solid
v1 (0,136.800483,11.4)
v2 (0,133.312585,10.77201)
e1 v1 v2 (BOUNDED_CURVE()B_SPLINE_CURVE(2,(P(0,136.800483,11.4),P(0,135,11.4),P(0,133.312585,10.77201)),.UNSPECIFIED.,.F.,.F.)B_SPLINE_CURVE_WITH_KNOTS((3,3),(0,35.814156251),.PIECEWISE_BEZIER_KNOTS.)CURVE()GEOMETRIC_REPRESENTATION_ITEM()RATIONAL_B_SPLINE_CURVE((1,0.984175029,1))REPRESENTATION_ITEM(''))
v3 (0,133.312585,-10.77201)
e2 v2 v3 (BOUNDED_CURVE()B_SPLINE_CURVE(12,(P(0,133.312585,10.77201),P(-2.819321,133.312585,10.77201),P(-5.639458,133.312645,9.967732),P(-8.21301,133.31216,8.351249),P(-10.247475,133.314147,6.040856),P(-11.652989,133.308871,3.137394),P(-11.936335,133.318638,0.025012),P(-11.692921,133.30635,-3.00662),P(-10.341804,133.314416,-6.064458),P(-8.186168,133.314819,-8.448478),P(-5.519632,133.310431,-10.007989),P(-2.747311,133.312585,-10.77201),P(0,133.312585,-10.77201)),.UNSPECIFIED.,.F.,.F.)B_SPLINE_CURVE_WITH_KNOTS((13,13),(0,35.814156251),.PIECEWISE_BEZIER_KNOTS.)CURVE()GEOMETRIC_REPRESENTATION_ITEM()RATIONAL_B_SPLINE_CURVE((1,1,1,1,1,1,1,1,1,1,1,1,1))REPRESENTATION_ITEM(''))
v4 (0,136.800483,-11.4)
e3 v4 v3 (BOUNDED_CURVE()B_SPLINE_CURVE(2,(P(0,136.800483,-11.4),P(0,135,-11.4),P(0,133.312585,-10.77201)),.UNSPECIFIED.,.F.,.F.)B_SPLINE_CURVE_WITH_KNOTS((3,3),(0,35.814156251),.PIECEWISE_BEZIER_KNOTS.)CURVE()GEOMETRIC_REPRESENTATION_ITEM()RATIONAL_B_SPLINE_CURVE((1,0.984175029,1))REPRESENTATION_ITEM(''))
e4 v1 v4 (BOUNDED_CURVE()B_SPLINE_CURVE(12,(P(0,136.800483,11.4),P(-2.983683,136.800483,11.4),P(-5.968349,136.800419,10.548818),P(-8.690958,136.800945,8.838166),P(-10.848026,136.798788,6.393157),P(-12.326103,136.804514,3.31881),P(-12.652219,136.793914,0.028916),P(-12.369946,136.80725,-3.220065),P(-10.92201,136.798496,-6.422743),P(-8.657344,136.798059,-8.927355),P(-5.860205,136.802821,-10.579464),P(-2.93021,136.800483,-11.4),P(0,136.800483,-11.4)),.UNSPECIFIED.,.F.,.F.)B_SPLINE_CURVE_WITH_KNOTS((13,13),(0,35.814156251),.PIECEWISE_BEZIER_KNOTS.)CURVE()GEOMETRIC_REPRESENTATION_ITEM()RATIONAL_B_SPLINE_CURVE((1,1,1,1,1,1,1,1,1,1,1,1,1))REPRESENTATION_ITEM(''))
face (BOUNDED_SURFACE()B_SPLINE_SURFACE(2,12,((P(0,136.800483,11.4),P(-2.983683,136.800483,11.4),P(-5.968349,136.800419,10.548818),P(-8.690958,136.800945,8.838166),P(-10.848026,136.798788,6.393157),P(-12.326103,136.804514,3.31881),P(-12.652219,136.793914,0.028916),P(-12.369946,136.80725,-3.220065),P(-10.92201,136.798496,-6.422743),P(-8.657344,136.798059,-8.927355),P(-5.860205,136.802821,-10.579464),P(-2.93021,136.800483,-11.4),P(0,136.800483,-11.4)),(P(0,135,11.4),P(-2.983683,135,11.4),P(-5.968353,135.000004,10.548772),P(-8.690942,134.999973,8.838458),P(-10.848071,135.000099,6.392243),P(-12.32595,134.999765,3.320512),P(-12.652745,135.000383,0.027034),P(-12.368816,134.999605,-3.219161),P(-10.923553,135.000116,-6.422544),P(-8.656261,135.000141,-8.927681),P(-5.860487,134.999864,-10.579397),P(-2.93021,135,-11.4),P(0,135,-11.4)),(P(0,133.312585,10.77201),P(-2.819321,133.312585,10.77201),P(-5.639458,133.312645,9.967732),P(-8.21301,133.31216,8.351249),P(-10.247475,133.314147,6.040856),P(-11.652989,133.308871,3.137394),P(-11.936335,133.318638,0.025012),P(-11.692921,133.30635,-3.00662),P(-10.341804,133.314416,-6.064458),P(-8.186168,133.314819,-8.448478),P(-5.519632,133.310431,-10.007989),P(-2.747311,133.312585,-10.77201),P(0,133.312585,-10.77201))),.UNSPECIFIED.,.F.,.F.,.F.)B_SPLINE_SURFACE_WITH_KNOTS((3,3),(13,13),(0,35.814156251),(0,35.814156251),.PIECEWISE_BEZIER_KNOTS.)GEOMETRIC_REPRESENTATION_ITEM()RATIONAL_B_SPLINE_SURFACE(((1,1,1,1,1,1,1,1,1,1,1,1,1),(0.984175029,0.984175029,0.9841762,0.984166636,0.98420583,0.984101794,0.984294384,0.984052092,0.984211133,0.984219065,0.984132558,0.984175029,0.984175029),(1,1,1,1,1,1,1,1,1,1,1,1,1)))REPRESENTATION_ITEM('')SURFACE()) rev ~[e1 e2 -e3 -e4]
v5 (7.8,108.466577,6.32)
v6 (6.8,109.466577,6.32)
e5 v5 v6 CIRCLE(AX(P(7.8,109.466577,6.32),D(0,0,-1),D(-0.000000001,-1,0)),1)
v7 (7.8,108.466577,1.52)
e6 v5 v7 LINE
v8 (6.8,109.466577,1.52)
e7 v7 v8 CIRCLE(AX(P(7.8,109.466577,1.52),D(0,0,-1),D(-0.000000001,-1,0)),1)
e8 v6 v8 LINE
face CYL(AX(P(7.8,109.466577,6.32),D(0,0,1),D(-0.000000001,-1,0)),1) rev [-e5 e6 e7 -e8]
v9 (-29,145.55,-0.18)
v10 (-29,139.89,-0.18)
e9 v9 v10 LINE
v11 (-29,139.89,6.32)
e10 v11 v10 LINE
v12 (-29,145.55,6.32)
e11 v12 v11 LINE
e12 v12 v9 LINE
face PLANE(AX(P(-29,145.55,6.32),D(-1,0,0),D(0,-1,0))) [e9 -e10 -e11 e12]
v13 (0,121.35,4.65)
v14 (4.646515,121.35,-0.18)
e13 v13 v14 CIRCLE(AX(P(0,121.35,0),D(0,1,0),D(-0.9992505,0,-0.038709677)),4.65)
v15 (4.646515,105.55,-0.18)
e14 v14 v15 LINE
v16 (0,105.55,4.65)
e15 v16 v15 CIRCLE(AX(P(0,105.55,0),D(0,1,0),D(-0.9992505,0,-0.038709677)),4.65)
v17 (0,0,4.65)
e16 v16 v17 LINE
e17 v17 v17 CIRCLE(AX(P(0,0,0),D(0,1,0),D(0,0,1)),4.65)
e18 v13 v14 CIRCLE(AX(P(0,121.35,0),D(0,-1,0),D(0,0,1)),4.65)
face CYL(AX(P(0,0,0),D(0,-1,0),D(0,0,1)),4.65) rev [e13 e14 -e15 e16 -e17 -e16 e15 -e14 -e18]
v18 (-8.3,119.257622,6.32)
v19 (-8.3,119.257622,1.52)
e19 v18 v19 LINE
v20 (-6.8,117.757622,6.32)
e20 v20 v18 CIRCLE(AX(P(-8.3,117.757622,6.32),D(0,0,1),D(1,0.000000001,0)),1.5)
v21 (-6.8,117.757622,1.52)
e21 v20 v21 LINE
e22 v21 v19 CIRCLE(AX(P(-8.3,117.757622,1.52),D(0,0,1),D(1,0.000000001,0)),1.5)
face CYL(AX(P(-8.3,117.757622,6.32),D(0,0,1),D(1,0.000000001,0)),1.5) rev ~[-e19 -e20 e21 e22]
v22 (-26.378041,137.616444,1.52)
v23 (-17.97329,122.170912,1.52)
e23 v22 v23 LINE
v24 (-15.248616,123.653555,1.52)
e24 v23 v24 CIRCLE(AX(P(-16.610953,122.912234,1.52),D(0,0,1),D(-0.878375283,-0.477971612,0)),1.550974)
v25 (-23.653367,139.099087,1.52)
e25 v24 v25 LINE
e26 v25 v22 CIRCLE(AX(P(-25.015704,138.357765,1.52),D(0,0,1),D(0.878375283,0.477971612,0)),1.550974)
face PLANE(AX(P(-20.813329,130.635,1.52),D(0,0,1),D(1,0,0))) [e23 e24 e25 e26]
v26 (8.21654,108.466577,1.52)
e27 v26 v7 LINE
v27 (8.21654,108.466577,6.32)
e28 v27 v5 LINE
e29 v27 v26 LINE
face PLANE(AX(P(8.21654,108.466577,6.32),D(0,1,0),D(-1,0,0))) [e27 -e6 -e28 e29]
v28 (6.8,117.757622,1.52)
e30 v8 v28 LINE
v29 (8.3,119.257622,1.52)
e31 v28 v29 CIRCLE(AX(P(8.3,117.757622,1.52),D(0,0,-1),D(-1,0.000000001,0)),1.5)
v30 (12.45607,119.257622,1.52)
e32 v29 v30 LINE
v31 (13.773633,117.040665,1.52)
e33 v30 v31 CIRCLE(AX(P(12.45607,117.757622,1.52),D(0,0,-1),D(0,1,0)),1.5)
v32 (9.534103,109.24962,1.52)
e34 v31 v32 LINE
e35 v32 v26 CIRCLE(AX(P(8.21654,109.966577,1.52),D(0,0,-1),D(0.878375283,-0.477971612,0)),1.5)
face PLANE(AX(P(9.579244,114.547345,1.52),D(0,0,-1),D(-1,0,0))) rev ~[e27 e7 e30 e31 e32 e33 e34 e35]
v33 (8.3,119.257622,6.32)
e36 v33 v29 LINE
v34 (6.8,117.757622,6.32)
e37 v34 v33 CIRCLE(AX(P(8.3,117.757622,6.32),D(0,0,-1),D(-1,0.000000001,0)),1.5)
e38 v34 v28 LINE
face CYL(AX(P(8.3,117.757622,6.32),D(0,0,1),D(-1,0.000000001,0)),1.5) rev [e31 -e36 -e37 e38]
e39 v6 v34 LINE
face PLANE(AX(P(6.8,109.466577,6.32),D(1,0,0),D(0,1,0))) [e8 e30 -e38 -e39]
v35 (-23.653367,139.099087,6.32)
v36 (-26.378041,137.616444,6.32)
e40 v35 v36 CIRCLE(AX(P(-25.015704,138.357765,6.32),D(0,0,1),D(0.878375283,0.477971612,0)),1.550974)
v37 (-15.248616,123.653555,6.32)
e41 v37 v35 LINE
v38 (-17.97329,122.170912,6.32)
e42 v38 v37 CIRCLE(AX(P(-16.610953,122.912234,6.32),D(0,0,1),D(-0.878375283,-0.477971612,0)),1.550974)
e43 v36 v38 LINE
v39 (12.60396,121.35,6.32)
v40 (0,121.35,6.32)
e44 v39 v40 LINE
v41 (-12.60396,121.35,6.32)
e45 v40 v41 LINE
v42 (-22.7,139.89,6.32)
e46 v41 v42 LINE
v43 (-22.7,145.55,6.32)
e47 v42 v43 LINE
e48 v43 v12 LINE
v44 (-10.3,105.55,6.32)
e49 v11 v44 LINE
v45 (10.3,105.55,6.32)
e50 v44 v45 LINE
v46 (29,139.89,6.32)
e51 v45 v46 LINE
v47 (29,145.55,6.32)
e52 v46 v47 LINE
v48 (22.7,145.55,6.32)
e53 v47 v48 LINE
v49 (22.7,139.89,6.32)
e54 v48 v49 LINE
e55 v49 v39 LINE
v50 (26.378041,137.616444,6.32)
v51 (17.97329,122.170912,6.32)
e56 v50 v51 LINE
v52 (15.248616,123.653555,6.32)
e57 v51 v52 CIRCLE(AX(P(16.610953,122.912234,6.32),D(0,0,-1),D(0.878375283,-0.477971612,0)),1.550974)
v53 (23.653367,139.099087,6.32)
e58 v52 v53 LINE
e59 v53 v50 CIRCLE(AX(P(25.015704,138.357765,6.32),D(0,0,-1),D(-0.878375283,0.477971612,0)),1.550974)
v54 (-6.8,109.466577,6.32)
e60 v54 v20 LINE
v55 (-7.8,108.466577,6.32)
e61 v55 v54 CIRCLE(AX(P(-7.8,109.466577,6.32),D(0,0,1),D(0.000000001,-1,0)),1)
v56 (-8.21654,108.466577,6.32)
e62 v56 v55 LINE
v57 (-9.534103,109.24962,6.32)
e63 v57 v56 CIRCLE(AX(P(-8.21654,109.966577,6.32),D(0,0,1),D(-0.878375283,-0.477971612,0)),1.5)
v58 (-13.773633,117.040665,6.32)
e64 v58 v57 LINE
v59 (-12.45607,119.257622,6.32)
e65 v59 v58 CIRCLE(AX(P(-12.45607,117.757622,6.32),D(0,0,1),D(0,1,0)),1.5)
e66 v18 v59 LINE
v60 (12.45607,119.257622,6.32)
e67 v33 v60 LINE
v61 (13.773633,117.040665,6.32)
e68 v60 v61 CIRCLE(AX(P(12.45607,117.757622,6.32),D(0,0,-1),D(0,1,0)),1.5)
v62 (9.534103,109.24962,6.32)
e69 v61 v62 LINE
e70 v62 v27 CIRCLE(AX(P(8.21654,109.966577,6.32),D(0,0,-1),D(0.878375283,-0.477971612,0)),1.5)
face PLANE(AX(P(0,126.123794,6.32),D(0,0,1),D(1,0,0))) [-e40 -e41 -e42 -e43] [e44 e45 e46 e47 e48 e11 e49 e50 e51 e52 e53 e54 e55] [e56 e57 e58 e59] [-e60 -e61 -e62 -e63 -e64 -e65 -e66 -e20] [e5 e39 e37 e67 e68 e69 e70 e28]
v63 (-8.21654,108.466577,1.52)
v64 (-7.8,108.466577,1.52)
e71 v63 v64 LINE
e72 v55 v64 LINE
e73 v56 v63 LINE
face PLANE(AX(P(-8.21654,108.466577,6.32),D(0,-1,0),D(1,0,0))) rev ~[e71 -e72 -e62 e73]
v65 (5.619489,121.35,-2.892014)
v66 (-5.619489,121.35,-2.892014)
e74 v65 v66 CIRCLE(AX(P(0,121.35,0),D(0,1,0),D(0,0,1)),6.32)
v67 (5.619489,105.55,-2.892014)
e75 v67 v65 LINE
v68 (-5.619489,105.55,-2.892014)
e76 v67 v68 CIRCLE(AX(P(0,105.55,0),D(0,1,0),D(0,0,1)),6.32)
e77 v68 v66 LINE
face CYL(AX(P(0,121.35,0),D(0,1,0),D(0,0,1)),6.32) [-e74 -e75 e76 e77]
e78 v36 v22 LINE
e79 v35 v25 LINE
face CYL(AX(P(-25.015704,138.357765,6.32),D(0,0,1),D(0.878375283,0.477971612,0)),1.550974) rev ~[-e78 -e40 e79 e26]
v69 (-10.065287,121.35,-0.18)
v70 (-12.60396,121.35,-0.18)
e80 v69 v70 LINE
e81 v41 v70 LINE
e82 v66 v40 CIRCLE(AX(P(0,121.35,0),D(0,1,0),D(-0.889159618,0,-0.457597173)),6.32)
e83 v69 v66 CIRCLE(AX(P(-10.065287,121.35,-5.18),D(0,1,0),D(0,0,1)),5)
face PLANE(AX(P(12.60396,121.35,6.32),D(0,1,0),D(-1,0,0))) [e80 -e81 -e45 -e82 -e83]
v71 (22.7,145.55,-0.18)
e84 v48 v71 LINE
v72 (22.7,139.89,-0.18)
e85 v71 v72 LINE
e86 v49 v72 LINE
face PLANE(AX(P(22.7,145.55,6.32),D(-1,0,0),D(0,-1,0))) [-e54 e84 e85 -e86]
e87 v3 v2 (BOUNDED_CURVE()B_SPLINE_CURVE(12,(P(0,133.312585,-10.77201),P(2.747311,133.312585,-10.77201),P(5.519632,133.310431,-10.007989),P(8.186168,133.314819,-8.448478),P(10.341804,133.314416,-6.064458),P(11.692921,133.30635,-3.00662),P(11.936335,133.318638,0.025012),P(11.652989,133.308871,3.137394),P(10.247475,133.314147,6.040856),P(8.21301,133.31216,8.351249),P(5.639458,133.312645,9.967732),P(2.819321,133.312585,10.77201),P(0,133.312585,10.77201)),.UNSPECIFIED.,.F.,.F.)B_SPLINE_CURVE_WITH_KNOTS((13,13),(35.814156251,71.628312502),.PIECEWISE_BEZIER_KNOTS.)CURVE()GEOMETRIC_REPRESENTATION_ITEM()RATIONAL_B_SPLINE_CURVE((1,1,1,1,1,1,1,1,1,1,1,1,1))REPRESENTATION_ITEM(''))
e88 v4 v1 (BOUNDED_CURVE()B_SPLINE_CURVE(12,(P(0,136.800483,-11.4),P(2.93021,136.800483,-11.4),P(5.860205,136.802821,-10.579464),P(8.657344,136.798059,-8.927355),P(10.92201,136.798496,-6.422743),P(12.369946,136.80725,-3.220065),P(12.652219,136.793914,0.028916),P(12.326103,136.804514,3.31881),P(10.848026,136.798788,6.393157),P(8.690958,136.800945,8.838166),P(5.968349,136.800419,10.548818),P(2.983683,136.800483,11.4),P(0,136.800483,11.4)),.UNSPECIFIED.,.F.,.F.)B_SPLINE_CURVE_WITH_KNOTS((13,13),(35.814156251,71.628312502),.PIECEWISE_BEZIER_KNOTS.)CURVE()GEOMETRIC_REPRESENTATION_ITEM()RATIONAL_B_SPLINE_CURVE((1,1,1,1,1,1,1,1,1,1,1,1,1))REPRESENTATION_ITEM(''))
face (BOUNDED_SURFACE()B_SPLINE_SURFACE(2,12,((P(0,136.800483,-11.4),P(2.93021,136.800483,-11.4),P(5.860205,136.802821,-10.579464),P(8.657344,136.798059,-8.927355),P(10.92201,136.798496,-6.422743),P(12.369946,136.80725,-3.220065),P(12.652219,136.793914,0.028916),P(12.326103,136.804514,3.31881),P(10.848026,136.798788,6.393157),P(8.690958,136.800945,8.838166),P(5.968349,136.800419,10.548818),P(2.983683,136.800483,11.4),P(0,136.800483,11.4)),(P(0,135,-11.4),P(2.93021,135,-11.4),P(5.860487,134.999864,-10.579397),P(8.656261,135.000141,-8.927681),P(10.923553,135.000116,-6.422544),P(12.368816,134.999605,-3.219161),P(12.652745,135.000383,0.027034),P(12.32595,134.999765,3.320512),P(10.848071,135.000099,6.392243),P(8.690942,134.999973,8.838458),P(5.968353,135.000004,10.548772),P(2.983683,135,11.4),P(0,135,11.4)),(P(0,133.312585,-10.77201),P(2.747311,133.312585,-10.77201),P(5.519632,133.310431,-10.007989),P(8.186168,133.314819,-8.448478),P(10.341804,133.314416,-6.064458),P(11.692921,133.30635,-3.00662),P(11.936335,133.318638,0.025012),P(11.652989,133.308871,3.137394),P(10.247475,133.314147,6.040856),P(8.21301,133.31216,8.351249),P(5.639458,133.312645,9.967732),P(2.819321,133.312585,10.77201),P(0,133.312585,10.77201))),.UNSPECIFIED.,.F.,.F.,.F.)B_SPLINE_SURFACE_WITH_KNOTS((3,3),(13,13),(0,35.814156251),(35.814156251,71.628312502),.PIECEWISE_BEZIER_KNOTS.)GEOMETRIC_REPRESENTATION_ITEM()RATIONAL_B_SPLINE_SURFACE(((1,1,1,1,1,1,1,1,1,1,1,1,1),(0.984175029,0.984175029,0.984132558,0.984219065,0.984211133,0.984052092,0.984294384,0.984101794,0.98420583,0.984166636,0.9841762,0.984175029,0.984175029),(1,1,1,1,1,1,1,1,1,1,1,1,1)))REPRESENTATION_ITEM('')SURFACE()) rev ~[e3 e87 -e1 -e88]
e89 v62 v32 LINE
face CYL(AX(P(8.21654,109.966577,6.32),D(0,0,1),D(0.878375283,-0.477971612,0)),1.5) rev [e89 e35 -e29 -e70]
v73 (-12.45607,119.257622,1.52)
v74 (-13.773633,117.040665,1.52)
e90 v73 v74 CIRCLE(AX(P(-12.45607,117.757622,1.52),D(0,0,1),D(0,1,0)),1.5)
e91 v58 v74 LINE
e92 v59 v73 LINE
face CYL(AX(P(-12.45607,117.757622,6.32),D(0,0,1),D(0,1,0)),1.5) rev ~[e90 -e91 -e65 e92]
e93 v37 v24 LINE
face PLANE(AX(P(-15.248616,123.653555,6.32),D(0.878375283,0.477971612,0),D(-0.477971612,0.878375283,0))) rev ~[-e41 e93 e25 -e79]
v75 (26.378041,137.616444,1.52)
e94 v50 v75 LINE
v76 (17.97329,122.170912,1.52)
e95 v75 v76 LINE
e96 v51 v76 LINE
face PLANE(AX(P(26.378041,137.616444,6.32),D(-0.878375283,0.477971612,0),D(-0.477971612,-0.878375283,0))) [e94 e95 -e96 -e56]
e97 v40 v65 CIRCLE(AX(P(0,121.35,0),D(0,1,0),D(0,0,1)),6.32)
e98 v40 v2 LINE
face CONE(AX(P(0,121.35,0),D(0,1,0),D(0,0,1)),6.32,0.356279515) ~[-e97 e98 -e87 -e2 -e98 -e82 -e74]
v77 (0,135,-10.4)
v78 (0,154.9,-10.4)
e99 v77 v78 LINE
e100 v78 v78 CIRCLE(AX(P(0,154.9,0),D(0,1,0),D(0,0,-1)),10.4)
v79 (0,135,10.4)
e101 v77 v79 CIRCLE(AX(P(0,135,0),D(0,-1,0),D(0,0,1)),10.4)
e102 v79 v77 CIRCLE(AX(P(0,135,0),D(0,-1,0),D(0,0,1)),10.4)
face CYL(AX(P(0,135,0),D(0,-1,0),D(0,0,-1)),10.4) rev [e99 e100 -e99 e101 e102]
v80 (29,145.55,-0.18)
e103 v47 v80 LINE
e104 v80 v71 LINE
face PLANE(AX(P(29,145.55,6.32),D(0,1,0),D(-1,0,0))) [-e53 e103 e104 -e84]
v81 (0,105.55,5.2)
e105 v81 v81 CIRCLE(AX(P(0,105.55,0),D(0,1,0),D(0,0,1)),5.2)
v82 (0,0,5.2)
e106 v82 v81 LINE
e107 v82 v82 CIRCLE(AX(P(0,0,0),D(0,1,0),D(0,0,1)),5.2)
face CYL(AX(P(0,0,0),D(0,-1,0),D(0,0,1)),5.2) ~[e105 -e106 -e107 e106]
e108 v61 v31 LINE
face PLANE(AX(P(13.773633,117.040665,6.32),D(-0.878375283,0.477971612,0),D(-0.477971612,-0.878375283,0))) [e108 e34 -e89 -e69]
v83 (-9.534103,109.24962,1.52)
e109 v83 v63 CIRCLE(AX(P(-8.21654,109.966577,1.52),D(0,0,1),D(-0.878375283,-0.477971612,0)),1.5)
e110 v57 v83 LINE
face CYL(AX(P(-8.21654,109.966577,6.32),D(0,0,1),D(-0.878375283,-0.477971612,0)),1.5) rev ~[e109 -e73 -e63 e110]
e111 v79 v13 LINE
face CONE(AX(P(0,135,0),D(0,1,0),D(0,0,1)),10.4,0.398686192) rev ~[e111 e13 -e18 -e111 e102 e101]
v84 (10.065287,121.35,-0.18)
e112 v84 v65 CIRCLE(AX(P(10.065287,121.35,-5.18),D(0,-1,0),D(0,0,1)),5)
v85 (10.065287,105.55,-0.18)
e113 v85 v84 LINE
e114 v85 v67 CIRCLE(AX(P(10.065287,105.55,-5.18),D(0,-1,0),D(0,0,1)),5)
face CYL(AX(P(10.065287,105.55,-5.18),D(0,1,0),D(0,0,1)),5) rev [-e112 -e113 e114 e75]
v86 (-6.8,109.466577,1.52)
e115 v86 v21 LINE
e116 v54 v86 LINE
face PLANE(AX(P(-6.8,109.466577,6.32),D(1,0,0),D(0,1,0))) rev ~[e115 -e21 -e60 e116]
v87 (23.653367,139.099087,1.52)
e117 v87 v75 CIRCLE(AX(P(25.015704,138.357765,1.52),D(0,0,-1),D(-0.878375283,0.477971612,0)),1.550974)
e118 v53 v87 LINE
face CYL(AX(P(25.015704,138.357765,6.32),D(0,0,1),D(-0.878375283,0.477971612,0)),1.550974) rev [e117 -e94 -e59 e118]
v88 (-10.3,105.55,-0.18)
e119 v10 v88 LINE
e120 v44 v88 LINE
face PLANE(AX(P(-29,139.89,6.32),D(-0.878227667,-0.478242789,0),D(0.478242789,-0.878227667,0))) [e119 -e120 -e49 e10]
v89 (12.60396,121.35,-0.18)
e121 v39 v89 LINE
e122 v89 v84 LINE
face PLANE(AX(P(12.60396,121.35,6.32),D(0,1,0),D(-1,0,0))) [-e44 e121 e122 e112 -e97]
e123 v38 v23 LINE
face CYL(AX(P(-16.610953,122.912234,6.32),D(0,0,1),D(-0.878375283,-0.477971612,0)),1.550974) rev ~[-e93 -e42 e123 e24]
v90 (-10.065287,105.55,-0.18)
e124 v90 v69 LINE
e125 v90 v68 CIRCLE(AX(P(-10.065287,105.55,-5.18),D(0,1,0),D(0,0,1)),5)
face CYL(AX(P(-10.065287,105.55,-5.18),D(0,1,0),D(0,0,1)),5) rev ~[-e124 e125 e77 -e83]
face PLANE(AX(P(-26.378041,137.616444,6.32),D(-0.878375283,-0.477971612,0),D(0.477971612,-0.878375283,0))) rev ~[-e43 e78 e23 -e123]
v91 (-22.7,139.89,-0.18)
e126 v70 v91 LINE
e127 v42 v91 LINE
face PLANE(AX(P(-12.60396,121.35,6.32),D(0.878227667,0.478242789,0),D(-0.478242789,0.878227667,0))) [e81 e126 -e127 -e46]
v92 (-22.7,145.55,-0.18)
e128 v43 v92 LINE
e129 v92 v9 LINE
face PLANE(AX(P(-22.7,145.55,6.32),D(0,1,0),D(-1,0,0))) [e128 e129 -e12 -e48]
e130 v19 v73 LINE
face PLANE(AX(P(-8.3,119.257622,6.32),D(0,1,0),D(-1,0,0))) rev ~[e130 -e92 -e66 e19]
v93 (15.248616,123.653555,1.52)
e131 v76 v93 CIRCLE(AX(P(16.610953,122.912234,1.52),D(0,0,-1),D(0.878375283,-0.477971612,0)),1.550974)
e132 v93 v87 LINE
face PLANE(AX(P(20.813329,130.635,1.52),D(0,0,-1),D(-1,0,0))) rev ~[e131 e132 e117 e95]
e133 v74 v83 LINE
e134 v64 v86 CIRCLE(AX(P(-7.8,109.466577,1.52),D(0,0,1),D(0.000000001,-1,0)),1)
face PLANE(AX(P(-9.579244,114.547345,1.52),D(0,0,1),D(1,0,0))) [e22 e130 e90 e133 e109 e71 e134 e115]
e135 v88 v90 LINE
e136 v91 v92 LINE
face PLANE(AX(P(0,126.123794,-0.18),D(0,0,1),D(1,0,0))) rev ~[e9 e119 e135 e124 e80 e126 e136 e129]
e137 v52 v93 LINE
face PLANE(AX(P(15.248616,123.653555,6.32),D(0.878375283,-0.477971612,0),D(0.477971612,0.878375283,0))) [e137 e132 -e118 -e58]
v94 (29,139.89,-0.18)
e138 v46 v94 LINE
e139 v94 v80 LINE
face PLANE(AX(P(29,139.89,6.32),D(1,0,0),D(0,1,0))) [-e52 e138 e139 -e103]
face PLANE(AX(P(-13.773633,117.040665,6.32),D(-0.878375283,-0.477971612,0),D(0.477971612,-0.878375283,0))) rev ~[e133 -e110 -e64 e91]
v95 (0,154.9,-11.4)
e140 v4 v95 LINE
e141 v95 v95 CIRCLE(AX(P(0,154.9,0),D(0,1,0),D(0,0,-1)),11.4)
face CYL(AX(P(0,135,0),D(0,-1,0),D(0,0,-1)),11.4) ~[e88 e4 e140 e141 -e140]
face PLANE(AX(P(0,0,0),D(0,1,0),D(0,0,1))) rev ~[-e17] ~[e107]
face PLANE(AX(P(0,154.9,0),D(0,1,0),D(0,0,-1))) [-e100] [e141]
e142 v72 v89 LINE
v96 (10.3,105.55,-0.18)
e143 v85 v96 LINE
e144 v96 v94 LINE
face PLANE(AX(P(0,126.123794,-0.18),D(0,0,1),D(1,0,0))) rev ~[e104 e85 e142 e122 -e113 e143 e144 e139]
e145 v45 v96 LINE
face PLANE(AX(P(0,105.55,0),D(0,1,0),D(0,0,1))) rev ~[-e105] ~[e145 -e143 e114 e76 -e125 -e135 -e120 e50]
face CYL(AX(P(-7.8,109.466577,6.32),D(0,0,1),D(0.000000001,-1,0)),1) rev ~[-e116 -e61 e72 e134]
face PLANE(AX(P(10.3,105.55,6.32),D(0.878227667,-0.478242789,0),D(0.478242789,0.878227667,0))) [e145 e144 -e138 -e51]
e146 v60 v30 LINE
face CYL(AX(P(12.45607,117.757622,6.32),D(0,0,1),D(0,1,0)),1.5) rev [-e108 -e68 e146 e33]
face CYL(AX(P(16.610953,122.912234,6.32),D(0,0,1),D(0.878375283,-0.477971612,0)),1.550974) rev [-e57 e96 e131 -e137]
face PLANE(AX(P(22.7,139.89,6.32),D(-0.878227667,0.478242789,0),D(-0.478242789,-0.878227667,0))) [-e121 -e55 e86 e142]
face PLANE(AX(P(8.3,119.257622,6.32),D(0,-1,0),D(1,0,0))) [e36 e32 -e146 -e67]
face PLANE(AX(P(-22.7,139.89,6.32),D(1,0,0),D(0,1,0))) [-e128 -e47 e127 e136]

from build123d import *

# Parameters (mm, degrees)
SKETCH1_R               = 5.2
SKETCH1_R_2             = 4.65
BOSS_EXTRUDE1_DEPTH     = 121.35
SKETCH2_R               = 6.32
SKETCH2_R_2             = 4.65
BOSS_EXTRUDE2_DEPTH     = 15.8
SKETCH4_R               = 11.4
SKETCH4_R_2             = 10.4
BOSS_EXTRUDE3_DEPTH     = 19.9
BOSS_EXTRUDE4_DEPTH     = 6.5
CUT_EXTRUDE1_DEPTH      = 4.8
FILLET2_R               = 10
SKETCH8_R               = 4.65
CUT_EXTRUDE2_DEPTH      = 159.003069696
CUT_EXTRUDE2_DEPTH_BACK = 159.003069696
FILLET3_R               = 5
FILLET4_R               = 5


with BuildPart() as part:
    # Sketch1 → Boss-Extrude1 (new body)
    with BuildSketch(Plane(origin=(0, 0, 0), x_dir=(1, 0, 0), z_dir=(0, 1, 0))):
        with Locations(Location((0, 0, 0), (0, 0, 270))):
            Circle(SKETCH1_R)
        with Locations(Location((0, 0, 0), (0, 0, 270))):
            Circle(SKETCH1_R_2, mode=Mode.SUBTRACT)
    extrude(amount=BOSS_EXTRUDE1_DEPTH)

    # Sketch2 → Boss-Extrude2 (add)
    with BuildSketch(Plane(origin=(0, 121.35, 0), x_dir=(1, 0, 0), z_dir=(0, 1, 0))):
        with Locations(Location((0, 0, 0), (0, 0, 270))):
            Circle(SKETCH2_R)
        with Locations(Location((0, 0, 0), (0, 0, 270))):
            Circle(SKETCH2_R_2, mode=Mode.SUBTRACT)
    extrude(amount=-BOSS_EXTRUDE2_DEPTH)

    # Sketch3 → Revolve1 (revolve)
    with BuildSketch(Plane.XY, mode=Mode.PRIVATE) as revolve1_sk:
        Polygon((-6.32, 121.35), (-11.4, 135), (-10.4, 135), (-4.65, 121.35), align=None)
    revolve(revolve1_sk.sketch.rotate(Axis((0, 121.35, 0), (0, -1, 0)), 270), axis=Axis((0, 121.35, 0), (0, -1, 0)))

    # Sketch4 → Boss-Extrude3 (add)
    with BuildSketch(Plane(origin=(0, 135, 0), x_dir=(1, 0, 0), z_dir=(0, 1, 0))):
        with Locations(Location((0, 0, 0), (0, 0, 90))):
            Circle(SKETCH4_R)
        with Locations(Location((0, 0, 0), (0, 0, 90))):
            Circle(SKETCH4_R_2, mode=Mode.SUBTRACT)
    extrude(amount=BOSS_EXTRUDE3_DEPTH)

    # Fillet2
    fillet2_edges = [part.edges().sort_by_distance(p)[0] for p in [
        (-11.4, 135, 0),
    ]]
    fillet(fillet2_edges, radius=FILLET2_R)


with BuildPart() as body_2:
    # Sketch6 → Boss-Extrude4 (new body)
    with BuildSketch(Plane.XY.offset(6.32)):
        Polygon((-10.3, 105.55), (10.3, 105.55), (29, 139.89), (29, 145.55), (22.7, 145.55), (22.7, 139.89), (12.603960396, 121.35), (-12.603960396, 121.35), (-22.7, 139.89), (-22.7, 145.55), (-29, 145.55), (-29, 139.89), align=None)
    extrude(amount=-BOSS_EXTRUDE4_DEPTH)

    # Sketch7 → Cut-Extrude1 (cut)
    with BuildSketch(Plane.XY.offset(6.32)):
        with BuildLine():
            Line((8.3, 119.257622479), (12.456070352, 119.257622479))
            ThreePointArc((12.456070352, 119.257622479), (13.745534607, 118.523965702), (13.773633276, 117.04066506))
            Line((13.773633276, 117.04066506), (9.534103268, 109.249619999))
            ThreePointArc((9.534103268, 109.249619999), (8.982883567, 108.677113163), (8.216540343, 108.466577418))
            Line((8.216540343, 108.466577418), (7.8, 108.466577418))
            ThreePointArc((7.8, 108.466577418), (7.092893219, 108.759470637), (6.8, 109.466577418))
            Line((6.8, 109.466577418), (6.8, 117.757622479))
            ThreePointArc((6.8, 117.757622479), (7.239339828, 118.81828265), (8.3, 119.257622479))
        make_face()
        with BuildLine():
            Line((-15.248616144, 123.653554953), (-23.653367428, 139.099086851))
            ThreePointArc((-23.653367428, 139.099086851), (-25.757025654, 139.720102373), (-26.378041176, 137.616444147))
            Line((-26.378041176, 137.616444147), (-17.973289892, 122.170912249))
            ThreePointArc((-17.973289892, 122.170912249), (-15.869631666, 121.549896727), (-15.248616144, 123.653554953))
        make_face()
        with BuildLine():
            Line((15.248616144, 123.653554953), (23.653367428, 139.099086851))
            ThreePointArc((23.653367428, 139.099086851), (25.757025654, 139.720102373), (26.378041176, 137.616444147))
            Line((26.378041176, 137.616444147), (17.973289892, 122.170912249))
            ThreePointArc((17.973289892, 122.170912249), (15.869631666, 121.549896727), (15.248616144, 123.653554953))
        make_face()
        with BuildLine():
            Line((-8.216540343, 108.466577418), (-7.8, 108.466577418))
            ThreePointArc((-7.8, 108.466577418), (-7.092893219, 108.759470637), (-6.8, 109.466577418))
            Line((-6.8, 109.466577418), (-6.8, 117.757622479))
            ThreePointArc((-6.8, 117.757622479), (-7.239339828, 118.81828265), (-8.3, 119.257622479))
            Line((-8.3, 119.257622479), (-12.456070352, 119.257622479))
            ThreePointArc((-12.456070352, 119.257622479), (-13.745534607, 118.523965702), (-13.773633276, 117.04066506))
            Line((-13.773633276, 117.04066506), (-9.534103268, 109.249619999))
            ThreePointArc((-9.534103268, 109.249619999), (-8.982883567, 108.677113163), (-8.216540343, 108.466577418))
        make_face()
    extrude(amount=-CUT_EXTRUDE1_DEPTH, mode=Mode.SUBTRACT)

    # Sketch8 → Cut-Extrude2 (cut, two sides)
    with BuildSketch(Plane(origin=(0, 0, 0), x_dir=(1, 0, 0), z_dir=(0, 1, 0))) as cut_extrude2_sk:
        with Locations(Location((0, 0, 0), (0, 0, 270))):
            Circle(SKETCH8_R)
    extrude(amount=CUT_EXTRUDE2_DEPTH, mode=Mode.SUBTRACT)
    extrude(cut_extrude2_sk.sketch, amount=-CUT_EXTRUDE2_DEPTH_BACK, mode=Mode.SUBTRACT)

    # Combine1: union part
    add(part.part)

    # Fillet3
    fillet3_edges = [body_2.edges().sort_by_distance(p)[0] for p in [
        (-6.317436189, 113.45, -0.18),
    ]]
    fillet(fillet3_edges, radius=FILLET3_R)

    # Fillet4
    fillet4_edges = [body_2.edges().sort_by_distance(p)[0] for p in [
        (6.317436189, 113.45, -0.18),
    ]]
    fillet(fillet4_edges, radius=FILLET4_R)


solid = body_2.part
